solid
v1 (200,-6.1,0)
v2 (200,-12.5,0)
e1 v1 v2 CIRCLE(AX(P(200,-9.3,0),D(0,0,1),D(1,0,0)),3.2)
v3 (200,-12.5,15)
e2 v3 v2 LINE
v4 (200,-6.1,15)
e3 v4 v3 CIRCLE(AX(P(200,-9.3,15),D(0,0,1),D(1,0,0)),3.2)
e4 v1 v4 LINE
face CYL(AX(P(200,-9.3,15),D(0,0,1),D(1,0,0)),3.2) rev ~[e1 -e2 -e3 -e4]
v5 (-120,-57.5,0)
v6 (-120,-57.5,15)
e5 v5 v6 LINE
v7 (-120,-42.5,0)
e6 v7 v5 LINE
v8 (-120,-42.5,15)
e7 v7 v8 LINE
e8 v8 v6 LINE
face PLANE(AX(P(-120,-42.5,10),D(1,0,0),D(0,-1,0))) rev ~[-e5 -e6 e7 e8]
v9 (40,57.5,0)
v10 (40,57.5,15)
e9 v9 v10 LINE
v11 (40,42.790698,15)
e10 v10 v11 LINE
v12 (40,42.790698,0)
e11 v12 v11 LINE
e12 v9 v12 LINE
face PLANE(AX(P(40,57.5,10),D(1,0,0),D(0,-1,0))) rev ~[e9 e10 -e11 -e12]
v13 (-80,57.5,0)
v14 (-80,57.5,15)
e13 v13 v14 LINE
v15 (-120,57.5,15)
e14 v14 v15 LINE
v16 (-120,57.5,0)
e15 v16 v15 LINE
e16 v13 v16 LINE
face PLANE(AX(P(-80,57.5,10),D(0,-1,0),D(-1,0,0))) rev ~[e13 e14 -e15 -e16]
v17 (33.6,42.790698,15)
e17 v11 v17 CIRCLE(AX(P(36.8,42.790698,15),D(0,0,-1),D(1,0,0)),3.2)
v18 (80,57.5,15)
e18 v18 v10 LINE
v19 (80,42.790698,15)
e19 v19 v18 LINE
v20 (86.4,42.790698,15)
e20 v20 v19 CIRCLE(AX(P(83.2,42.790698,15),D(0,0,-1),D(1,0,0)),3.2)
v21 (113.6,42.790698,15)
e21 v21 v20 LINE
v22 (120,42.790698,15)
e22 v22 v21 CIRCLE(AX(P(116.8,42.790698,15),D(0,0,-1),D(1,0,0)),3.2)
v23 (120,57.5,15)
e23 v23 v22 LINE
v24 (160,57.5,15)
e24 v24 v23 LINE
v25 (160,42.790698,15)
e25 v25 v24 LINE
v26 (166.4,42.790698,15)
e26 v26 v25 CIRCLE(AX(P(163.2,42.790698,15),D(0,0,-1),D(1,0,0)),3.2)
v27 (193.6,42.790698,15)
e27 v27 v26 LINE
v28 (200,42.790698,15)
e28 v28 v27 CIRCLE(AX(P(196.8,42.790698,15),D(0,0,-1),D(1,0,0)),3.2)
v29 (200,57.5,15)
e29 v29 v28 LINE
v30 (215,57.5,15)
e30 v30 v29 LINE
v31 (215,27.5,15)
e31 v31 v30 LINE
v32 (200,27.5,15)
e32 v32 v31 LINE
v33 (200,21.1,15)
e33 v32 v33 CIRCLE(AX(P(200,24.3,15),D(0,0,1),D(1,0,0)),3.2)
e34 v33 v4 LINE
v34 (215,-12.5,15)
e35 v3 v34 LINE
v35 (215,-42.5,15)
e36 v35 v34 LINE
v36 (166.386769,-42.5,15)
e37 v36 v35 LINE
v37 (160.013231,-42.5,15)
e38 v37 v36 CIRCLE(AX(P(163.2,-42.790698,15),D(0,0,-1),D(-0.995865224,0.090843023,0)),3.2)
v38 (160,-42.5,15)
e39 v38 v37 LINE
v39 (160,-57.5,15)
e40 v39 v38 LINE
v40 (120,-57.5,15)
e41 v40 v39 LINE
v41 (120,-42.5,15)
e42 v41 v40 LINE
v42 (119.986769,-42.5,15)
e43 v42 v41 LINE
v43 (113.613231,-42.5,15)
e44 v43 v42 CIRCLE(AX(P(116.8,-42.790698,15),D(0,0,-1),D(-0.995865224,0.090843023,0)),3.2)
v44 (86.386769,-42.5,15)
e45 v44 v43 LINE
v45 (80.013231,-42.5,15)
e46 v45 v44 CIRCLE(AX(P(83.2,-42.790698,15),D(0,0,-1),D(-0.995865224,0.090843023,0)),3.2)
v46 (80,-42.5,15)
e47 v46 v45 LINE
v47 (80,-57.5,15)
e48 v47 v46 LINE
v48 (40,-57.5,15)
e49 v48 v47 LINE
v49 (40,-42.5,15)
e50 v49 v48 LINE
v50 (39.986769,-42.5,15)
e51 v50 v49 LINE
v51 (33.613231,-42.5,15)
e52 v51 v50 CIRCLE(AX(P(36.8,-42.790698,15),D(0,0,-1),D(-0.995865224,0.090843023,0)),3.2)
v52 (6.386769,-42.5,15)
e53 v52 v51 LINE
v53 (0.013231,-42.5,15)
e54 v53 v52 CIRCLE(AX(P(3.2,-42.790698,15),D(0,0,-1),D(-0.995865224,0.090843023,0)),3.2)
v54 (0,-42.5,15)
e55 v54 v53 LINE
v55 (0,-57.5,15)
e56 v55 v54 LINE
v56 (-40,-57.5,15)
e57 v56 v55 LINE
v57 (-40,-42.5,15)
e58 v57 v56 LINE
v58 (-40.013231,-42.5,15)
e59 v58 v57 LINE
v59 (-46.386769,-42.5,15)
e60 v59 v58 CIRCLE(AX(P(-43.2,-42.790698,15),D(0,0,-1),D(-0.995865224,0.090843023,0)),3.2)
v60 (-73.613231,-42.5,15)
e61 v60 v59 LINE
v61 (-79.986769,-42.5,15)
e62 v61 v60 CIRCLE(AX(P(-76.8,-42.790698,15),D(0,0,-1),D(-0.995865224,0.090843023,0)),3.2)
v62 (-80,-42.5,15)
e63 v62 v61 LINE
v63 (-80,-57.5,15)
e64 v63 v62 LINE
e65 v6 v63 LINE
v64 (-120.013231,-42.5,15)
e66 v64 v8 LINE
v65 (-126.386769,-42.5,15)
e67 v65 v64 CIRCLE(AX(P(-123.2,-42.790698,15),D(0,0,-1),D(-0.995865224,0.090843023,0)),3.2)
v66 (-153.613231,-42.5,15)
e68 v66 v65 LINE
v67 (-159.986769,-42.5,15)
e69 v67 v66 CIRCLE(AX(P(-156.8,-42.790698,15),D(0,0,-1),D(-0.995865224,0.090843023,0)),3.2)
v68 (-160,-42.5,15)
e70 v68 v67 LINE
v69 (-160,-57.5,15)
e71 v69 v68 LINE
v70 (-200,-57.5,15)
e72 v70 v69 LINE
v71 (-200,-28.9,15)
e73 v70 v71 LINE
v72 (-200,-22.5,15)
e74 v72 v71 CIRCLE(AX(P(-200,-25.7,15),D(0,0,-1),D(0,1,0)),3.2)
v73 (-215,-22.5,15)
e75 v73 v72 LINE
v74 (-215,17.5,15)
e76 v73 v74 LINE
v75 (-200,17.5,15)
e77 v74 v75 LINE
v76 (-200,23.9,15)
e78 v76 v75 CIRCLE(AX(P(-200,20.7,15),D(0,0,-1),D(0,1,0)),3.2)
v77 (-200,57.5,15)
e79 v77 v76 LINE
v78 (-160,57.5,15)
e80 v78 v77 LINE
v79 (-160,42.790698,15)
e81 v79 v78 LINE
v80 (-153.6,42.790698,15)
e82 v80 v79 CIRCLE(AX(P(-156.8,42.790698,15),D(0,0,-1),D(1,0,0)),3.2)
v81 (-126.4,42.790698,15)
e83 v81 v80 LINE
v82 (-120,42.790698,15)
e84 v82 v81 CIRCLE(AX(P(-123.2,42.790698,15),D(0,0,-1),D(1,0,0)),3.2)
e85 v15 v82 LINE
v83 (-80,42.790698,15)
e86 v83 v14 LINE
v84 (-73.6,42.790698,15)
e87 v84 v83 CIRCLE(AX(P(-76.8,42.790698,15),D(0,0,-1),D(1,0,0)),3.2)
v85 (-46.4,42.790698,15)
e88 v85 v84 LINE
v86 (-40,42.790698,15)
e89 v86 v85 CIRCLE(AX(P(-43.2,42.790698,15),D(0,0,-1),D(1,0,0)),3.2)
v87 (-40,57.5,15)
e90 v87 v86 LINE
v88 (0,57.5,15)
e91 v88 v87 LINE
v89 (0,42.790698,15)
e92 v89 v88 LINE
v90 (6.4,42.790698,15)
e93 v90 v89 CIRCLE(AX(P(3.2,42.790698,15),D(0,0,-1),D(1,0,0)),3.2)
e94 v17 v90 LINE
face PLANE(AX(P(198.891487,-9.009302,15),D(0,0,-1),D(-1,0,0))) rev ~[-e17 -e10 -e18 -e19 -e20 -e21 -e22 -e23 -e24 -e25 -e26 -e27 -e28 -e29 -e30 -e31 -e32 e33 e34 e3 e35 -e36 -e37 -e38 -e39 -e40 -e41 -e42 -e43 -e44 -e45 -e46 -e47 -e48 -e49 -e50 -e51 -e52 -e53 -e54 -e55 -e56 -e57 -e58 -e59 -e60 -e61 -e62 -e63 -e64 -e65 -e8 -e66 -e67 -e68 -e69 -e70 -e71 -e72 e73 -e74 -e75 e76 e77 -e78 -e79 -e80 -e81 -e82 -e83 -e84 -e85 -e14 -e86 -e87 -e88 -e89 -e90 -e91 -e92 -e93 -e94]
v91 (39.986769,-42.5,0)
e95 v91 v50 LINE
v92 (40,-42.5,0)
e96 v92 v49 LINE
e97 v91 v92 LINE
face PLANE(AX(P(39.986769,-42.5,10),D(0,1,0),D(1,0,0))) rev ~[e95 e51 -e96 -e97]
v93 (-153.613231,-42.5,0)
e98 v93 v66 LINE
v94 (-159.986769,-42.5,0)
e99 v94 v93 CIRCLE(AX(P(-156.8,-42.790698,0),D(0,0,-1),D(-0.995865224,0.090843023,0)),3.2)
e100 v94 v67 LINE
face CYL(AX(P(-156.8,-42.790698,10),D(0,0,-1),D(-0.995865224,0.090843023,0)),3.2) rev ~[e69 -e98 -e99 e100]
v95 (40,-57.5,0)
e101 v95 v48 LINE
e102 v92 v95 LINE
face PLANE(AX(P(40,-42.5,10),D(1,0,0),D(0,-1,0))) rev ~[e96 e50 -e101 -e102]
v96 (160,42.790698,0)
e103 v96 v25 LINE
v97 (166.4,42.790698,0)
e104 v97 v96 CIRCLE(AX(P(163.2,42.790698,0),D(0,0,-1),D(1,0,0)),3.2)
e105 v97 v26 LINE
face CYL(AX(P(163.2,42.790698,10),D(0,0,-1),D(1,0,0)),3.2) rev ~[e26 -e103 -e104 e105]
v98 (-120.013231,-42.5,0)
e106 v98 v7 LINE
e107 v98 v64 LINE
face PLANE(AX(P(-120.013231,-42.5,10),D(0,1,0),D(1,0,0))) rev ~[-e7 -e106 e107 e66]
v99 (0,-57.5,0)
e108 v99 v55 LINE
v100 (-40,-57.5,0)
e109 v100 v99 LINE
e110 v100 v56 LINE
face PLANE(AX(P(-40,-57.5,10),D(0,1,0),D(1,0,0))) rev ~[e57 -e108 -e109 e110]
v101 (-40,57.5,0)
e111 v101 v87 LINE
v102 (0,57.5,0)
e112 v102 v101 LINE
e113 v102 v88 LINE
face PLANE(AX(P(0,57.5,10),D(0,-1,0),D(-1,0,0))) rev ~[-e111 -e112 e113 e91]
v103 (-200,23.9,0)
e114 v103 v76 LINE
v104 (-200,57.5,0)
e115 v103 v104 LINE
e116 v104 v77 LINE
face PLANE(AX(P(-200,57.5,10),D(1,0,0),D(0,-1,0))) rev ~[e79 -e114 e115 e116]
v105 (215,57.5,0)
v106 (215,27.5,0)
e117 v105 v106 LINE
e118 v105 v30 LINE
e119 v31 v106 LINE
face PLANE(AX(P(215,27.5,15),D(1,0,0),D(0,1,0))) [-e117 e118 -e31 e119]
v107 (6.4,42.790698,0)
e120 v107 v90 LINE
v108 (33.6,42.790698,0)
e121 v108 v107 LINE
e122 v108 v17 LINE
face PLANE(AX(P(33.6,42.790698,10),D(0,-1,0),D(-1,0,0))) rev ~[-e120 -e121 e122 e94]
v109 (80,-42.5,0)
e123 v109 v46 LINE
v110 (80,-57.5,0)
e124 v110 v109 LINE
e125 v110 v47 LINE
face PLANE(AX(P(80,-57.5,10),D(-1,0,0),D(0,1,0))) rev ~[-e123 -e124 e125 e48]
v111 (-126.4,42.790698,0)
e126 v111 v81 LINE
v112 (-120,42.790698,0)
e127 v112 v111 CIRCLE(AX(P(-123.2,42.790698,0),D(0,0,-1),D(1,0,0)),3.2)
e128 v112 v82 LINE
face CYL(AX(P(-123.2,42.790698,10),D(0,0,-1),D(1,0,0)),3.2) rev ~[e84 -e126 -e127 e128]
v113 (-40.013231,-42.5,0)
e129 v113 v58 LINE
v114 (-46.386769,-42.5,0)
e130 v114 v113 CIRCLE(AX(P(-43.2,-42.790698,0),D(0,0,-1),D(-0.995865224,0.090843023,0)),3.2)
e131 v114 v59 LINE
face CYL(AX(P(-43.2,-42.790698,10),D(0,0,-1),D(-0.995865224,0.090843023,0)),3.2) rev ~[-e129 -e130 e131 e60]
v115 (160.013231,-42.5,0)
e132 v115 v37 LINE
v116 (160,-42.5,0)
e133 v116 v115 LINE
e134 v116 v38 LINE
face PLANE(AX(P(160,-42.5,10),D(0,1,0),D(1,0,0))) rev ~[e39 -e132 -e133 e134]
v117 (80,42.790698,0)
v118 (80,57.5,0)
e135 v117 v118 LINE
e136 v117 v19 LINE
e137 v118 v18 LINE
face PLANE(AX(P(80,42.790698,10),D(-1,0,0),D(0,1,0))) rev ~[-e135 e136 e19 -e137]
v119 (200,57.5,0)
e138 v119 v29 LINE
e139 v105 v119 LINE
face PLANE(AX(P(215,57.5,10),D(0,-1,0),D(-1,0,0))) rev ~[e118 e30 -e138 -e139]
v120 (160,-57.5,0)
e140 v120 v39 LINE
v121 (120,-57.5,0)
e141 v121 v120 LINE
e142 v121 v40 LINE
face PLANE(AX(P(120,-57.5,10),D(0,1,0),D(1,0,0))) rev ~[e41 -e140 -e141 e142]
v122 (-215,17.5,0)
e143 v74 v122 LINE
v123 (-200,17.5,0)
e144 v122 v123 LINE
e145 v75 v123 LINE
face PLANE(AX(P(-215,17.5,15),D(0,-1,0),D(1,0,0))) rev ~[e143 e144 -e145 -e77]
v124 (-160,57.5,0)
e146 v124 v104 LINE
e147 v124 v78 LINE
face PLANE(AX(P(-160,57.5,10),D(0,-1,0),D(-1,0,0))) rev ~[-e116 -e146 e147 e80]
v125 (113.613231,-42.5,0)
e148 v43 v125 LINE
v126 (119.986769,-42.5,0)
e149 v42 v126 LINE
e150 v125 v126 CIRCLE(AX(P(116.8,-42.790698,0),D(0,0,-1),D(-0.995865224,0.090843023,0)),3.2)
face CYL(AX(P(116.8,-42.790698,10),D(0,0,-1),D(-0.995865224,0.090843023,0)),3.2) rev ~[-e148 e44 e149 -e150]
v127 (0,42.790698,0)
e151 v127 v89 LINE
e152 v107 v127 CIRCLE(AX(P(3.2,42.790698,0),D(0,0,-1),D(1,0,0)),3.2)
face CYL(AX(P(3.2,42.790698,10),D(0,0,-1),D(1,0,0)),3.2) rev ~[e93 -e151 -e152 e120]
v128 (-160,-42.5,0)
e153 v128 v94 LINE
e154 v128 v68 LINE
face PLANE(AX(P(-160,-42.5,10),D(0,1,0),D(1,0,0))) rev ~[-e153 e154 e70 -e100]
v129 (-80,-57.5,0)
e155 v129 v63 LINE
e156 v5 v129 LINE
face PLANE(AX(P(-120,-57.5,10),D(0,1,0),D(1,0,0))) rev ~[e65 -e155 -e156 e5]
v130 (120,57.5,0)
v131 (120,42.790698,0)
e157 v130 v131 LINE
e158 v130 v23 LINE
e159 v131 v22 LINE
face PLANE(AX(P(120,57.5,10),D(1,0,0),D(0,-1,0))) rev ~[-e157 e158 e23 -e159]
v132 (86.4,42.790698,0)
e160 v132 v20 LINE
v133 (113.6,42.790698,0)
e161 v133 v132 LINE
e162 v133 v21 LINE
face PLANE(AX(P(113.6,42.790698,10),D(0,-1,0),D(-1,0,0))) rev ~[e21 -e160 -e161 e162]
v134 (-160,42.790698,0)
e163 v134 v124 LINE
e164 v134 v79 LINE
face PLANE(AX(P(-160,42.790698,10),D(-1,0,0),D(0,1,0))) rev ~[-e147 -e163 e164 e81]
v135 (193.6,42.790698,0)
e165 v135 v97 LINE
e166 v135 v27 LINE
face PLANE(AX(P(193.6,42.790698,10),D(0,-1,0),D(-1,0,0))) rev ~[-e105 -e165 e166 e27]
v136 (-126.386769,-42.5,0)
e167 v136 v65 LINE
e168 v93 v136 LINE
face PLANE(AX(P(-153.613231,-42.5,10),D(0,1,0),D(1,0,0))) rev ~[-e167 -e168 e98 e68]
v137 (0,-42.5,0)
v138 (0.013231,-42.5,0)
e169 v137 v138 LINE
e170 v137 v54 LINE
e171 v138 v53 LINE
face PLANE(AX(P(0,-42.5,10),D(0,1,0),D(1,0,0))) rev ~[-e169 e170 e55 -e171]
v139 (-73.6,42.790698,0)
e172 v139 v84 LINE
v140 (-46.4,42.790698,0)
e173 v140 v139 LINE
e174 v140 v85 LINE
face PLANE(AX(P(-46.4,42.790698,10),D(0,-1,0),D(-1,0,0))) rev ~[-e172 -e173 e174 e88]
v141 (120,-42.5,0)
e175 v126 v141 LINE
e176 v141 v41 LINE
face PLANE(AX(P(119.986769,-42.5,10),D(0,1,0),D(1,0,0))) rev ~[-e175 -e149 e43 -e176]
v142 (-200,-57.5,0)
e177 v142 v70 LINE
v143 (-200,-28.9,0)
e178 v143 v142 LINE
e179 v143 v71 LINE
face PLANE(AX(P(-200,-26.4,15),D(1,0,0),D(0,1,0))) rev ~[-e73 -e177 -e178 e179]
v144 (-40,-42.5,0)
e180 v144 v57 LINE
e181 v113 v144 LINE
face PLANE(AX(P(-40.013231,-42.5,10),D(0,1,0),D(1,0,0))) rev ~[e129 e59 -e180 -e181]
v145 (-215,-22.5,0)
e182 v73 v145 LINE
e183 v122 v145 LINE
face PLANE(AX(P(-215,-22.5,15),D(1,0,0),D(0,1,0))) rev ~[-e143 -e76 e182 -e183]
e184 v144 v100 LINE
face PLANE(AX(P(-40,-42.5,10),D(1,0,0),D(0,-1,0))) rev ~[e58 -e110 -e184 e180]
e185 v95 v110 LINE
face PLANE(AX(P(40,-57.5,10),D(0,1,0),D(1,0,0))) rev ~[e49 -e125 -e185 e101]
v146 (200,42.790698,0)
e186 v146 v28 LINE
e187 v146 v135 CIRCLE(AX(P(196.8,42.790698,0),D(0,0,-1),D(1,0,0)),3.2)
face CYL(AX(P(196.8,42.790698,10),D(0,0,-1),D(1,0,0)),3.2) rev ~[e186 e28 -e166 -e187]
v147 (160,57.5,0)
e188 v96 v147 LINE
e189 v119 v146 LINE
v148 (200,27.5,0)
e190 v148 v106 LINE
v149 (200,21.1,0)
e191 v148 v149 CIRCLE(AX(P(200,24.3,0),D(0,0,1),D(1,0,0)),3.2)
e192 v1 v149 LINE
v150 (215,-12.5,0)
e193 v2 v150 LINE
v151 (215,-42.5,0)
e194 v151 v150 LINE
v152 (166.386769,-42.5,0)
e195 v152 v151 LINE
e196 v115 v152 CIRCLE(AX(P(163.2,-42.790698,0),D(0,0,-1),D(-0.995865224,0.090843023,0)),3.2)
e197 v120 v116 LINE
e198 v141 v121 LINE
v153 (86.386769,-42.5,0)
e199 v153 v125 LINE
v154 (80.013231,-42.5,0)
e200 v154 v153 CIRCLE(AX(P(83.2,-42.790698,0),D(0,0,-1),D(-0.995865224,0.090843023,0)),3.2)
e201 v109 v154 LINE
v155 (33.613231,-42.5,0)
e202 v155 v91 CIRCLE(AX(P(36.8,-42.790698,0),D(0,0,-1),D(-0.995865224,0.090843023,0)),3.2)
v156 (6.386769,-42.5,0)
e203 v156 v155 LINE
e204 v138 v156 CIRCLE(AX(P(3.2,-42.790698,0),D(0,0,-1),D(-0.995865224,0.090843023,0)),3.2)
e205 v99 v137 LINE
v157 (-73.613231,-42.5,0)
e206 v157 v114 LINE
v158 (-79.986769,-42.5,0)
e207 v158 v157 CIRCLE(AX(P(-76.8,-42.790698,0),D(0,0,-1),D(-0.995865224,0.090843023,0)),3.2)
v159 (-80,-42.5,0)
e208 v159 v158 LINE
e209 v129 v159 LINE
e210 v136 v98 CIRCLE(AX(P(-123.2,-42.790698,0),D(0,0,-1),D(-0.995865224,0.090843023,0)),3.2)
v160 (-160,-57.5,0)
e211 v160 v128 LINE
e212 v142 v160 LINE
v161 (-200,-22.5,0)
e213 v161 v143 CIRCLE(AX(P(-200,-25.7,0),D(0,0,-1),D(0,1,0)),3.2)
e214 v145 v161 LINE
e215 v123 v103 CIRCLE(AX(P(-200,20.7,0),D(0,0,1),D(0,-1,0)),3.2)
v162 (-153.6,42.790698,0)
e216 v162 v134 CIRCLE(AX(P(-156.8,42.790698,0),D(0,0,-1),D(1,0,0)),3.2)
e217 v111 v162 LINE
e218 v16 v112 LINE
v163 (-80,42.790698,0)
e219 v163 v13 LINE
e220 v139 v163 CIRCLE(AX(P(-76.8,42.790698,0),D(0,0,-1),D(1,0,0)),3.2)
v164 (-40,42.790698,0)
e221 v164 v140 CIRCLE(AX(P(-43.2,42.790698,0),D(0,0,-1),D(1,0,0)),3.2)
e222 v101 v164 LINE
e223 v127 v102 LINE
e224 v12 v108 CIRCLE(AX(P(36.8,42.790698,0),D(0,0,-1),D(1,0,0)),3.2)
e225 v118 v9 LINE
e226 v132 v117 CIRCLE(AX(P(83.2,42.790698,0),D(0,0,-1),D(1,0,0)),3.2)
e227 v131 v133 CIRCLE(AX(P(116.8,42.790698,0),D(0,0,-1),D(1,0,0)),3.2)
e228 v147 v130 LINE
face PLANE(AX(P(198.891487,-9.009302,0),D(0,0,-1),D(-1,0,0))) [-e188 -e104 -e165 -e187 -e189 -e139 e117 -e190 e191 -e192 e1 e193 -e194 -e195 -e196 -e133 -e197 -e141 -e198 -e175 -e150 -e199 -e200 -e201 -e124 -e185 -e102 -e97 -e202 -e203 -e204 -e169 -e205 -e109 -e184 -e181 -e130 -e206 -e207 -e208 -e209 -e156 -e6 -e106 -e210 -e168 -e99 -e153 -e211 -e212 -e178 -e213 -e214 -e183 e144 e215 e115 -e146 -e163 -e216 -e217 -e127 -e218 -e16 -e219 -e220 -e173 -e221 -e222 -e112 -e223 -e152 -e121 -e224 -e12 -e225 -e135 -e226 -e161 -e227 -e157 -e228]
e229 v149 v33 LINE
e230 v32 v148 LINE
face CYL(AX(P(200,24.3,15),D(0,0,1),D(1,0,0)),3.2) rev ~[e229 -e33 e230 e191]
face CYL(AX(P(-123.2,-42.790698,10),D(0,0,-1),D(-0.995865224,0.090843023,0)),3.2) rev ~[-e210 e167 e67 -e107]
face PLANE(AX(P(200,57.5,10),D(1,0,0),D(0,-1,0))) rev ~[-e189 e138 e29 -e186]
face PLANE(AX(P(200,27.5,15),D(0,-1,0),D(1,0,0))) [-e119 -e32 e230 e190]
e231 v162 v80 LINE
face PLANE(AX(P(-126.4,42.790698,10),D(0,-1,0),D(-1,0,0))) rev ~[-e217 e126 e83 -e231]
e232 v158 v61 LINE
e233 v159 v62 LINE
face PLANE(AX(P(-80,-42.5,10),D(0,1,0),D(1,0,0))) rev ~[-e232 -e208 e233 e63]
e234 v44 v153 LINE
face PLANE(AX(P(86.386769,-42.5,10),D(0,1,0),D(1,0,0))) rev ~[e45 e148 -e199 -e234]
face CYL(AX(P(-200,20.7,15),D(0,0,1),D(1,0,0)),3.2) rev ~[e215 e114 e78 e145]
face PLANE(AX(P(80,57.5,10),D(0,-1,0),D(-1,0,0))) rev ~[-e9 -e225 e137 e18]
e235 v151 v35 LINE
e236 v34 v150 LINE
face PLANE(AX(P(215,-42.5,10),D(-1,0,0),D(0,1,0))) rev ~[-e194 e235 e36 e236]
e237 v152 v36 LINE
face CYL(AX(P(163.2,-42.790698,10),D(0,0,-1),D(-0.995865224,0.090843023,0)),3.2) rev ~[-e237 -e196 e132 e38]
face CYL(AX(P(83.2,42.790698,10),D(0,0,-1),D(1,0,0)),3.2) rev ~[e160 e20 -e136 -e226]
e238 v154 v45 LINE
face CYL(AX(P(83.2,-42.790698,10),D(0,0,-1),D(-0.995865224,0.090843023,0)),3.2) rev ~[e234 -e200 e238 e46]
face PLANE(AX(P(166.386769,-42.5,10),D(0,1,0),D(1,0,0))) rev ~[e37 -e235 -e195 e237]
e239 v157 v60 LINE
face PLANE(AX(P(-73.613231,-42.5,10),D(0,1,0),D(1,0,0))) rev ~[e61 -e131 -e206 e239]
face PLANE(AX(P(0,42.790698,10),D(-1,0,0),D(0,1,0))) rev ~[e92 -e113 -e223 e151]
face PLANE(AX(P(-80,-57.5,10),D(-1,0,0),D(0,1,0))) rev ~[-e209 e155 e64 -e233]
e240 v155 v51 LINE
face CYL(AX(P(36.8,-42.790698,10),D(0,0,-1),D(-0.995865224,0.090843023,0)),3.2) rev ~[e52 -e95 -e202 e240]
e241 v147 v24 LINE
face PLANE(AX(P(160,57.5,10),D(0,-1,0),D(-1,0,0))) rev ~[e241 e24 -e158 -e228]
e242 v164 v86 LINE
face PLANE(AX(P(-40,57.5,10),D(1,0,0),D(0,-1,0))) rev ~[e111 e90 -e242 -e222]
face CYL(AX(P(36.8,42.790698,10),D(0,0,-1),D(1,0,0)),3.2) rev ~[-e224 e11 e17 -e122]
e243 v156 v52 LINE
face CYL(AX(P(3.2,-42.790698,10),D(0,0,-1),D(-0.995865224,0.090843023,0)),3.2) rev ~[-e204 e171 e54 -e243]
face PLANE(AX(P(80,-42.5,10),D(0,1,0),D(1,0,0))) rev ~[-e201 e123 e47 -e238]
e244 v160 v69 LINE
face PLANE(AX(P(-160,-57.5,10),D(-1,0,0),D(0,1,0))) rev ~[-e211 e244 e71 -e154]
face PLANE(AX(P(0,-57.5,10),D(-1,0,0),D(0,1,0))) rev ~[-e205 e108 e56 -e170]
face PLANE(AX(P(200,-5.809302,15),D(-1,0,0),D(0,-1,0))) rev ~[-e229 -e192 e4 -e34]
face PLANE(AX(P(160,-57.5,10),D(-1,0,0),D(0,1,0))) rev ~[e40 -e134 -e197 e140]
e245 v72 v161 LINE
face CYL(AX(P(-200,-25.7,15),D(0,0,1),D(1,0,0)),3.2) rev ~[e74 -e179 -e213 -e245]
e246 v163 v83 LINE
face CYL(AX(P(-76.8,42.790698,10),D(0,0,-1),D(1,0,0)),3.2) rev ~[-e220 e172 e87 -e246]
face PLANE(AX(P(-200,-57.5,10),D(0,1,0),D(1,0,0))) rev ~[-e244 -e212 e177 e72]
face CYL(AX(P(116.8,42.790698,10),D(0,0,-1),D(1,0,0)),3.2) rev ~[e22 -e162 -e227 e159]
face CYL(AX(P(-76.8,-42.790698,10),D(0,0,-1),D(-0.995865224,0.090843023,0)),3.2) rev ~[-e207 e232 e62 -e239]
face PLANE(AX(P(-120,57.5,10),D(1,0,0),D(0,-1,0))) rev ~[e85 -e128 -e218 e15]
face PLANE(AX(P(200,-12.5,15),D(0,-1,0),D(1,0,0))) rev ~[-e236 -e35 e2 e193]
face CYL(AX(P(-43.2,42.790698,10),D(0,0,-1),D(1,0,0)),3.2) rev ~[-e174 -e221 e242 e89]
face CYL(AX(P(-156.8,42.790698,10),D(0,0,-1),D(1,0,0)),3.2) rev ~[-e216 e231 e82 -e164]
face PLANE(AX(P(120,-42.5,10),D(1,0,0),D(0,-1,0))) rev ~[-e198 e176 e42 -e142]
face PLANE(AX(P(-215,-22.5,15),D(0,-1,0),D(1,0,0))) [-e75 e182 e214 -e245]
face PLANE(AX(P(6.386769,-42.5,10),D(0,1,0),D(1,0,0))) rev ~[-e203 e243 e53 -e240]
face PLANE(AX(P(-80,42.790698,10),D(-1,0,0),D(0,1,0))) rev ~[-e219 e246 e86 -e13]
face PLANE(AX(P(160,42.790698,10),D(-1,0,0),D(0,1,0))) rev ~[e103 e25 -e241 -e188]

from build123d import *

# Parameters (mm, degrees)
SALIENTE_EXTRUIR2_DEPTH = 10
SALIENTE_EXTRUIR3_DEPTH = 5
CROQUIS4_W              = 15
CROQUIS4_H              = 40
CORTAR_EXTRUIR1_DEPTH   = 15
CROQUIS5_W              = 15
CROQUIS5_H              = 40
SALIENTE_EXTRUIR4_DEPTH = 15
SALIENTE_EXTRUIR5_DEPTH = 15
CROQUIS7_R              = 3.2
CORTAR_EXTRUIR2_DEPTH   = 15
CROQUIS8_W              = 15
CROQUIS8_H              = 30
SALIENTE_EXTRUIR6_DEPTH = 15
CROQUIS9_W              = 15
CROQUIS9_H              = 40
CORTAR_EXTRUIR3_DEPTH   = 15
SALIENTE_EXTRUIR8_DEPTH = 15
CROQUIS12_R             = 3.2
CORTAR_EXTRUIR4_DEPTH   = 15


with BuildPart() as part:
    # Croquis1 → Saliente-Extruir2 (new body)
    with BuildSketch(Plane.XY):
        with BuildLine():
            Line((-200, -42.5), (-200, -57.5))
            Line((-200, -57.5), (-160, -57.5))
            Line((-160, -57.5), (-160, -49.312229152))
            Line((-160, -49.312229152), (-160, -42.790697674))
            Line((-160, -42.790697674), (-160, -42.5))
            Line((-160, -42.5), (-159.986768718, -42.5))
            ThreePointArc((-159.986768718, -42.5), (-156.8, -39.590697674), (-153.613231282, -42.5))
            Line((-153.613231282, -42.5), (-126.386768718, -42.5))
            ThreePointArc((-126.386768718, -42.5), (-123.2, -39.590697674), (-120.013231282, -42.5))
            Line((-120.013231282, -42.5), (-120, -42.5))
            Line((-120, -42.5), (-120, -42.790697674))
            Line((-120, -42.790697674), (-120, -57.5))
            Line((-120, -57.5), (-80, -57.5))
            Line((-80, -57.5), (-80, -42.790697674))
            Line((-80, -42.790697674), (-80, -42.5))
            Line((-80, -42.5), (-79.986768718, -42.5))
            ThreePointArc((-79.986768718, -42.5), (-76.8, -39.590697674), (-73.613231282, -42.5))
            Line((-73.613231282, -42.5), (-46.386768718, -42.5))
            ThreePointArc((-46.386768718, -42.5), (-43.2, -39.590697674), (-40.013231282, -42.5))
            Line((-40.013231282, -42.5), (-40, -42.5))
            Line((-40, -42.5), (-40, -42.790697674))
            Line((-40, -42.790697674), (-40, -57.5))
            Line((-40, -57.5), (0, -57.5))
            Line((0, -57.5), (0, -42.790697674))
            Line((0, -42.790697674), (0, -42.5))
            Line((0, -42.5), (0.013231282, -42.5))
            ThreePointArc((0.013231282, -42.5), (3.2, -39.590697674), (6.386768718, -42.5))
            Line((6.386768718, -42.5), (33.613231282, -42.5))
            ThreePointArc((33.613231282, -42.5), (36.8, -39.590697674), (39.986768718, -42.5))
            Line((39.986768718, -42.5), (40, -42.5))
            Line((40, -42.5), (40, -42.790697674))
            Line((40, -42.790697674), (40, -57.5))
            Line((40, -57.5), (80, -57.5))
            Line((80, -57.5), (80, -42.790697674))
            Line((80, -42.790697674), (80, -42.5))
            Line((80, -42.5), (80.013231282, -42.5))
            ThreePointArc((80.013231282, -42.5), (83.2, -39.590697674), (86.386768718, -42.5))
            Line((86.386768718, -42.5), (113.613231282, -42.5))
            ThreePointArc((113.613231282, -42.5), (116.8, -39.590697674), (119.986768718, -42.5))
            Line((119.986768718, -42.5), (120, -42.5))
            Line((120, -42.5), (120, -42.790697674))
            Line((120, -42.790697674), (120, -57.5))
            Line((120, -57.5), (160, -57.5))
            Line((160, -57.5), (160, -42.790697674))
            Line((160, -42.790697674), (160, -42.5))
            Line((160, -42.5), (160.013231282, -42.5))
            ThreePointArc((160.013231282, -42.5), (163.2, -39.590697674), (166.386768718, -42.5))
            Line((166.386768718, -42.5), (200, -42.5))
            Line((200, -42.5), (215, -42.5))
            Line((215, -42.5), (215, -12.209302326))
            Line((215, -12.209302326), (200, -12.209302326))
            ThreePointArc((200, -12.209302326), (196.8, -9.009302326), (200, -5.809302326))
            Line((200, -5.809302326), (200, 7.790697674))
            Line((200, 7.790697674), (200, 21.390697674))
            ThreePointArc((200, 21.390697674), (196.8, 24.590697674), (200, 27.790697674))
            Line((200, 27.790697674), (215, 27.790697674))
            Line((215, 27.790697674), (215, 57.5))
            Line((215, 57.5), (200, 57.5))
            Line((200, 57.5), (200, 42.790697674))
            ThreePointArc((200, 42.790697674), (196.8, 39.590697674), (193.6, 42.790697674))
            Line((193.6, 42.790697674), (166.4, 42.790697674))
            ThreePointArc((166.4, 42.790697674), (163.2, 39.590697674), (160, 42.790697674))
            Line((160, 42.790697674), (160, 57.5))
            Line((160, 57.5), (140, 57.5))
            Line((140, 57.5), (120, 57.5))
            Line((120, 57.5), (120, 42.790697674))
            ThreePointArc((120, 42.790697674), (116.8, 39.590697674), (113.6, 42.790697674))
            Line((113.6, 42.790697674), (86.4, 42.790697674))
            ThreePointArc((86.4, 42.790697674), (83.2, 39.590697674), (80, 42.790697674))
            Line((80, 42.790697674), (80, 57.5))
            Line((80, 57.5), (40, 57.5))
            Line((40, 57.5), (40, 42.790697674))
            ThreePointArc((40, 42.790697674), (36.8, 39.590697674), (33.6, 42.790697674))
            Line((33.6, 42.790697674), (6.4, 42.790697674))
            ThreePointArc((6.4, 42.790697674), (3.2, 39.590697674), (0, 42.790697674))
            Line((0, 42.790697674), (0, 57.5))
            Line((0, 57.5), (-20, 57.5))
            Line((-20, 57.5), (-40, 57.5))
            Line((-40, 57.5), (-40, 42.790697674))
            ThreePointArc((-40, 42.790697674), (-43.2, 39.590697674), (-46.4, 42.790697674))
            Line((-46.4, 42.790697674), (-73.6, 42.790697674))
            ThreePointArc((-73.6, 42.790697674), (-76.8, 39.590697674), (-80, 42.790697674))
            Line((-80, 42.790697674), (-80, 57.5))
            Line((-80, 57.5), (-100, 57.5))
            Line((-100, 57.5), (-120, 57.5))
            Line((-120, 57.5), (-120, 42.790697674))
            ThreePointArc((-120, 42.790697674), (-123.2, 39.590697674), (-126.4, 42.790697674))
            Line((-126.4, 42.790697674), (-140, 42.790697674))
            Line((-140, 42.790697674), (-153.6, 42.790697674))
            ThreePointArc((-153.6, 42.790697674), (-156.8, 39.590697674), (-160, 42.790697674))
            Line((-160, 42.790697674), (-160, 57.5))
            Line((-160, 57.5), (-200, 57.5))
            Line((-200, 57.5), (-200, 42.790697674))
            Line((-200, 42.790697674), (-200, 26.4))
            ThreePointArc((-200, 26.4), (-196.8, 23.2), (-200, 20))
            Line((-200, 20), (-215, 20))
            Line((-215, 20), (-215, 0))
            Line((-215, 0), (-215, -20))
            Line((-215, -20), (-200, -20))
            ThreePointArc((-200, -20), (-196.8, -23.2), (-200, -26.4))
            Line((-200, -26.4), (-200, -42.5))
        make_face()
    extrude(amount=SALIENTE_EXTRUIR2_DEPTH)

    # Croquis3 → Saliente-Extruir3 (add)
    with BuildSketch(Plane.XY.offset(10)):
        with BuildLine():
            Line((119.986768718, -42.5), (120, -42.5))
            Line((120, -42.5), (120, -57.5))
            Line((120, -57.5), (160, -57.5))
            Line((160, -57.5), (160, -42.5))
            Line((160, -42.5), (160.013231282, -42.5))
            ThreePointArc((160.013231282, -42.5), (163.2, -39.590697674), (166.386768718, -42.5))
            Line((166.386768718, -42.5), (215, -42.5))
            Line((215, -42.5), (215, -12.209302326))
            Line((215, -12.209302326), (200, -12.209302326))
            ThreePointArc((200, -12.209302326), (196.8, -9.009302326), (200, -5.809302326))
            Line((200, -5.809302326), (200, 21.390697674))
            ThreePointArc((200, 21.390697674), (196.8, 24.590697674), (200, 27.790697674))
            Line((200, 27.790697674), (215, 27.790697674))
            Line((215, 27.790697674), (215, 57.5))
            Line((215, 57.5), (200, 57.5))
            Line((200, 57.5), (200, 42.790697674))
            ThreePointArc((200, 42.790697674), (196.8, 39.590697674), (193.6, 42.790697674))
            Line((193.6, 42.790697674), (166.4, 42.790697674))
            ThreePointArc((166.4, 42.790697674), (163.2, 39.590697674), (160, 42.790697674))
            Line((160, 42.790697674), (160, 57.5))
            Line((160, 57.5), (120, 57.5))
            Line((120, 57.5), (120, 42.790697674))
            ThreePointArc((120, 42.790697674), (116.8, 39.590697674), (113.6, 42.790697674))
            Line((113.6, 42.790697674), (86.4, 42.790697674))
            ThreePointArc((86.4, 42.790697674), (83.2, 39.590697674), (80, 42.790697674))
            Line((80, 42.790697674), (80, 57.5))
            Line((80, 57.5), (40, 57.5))
            Line((40, 57.5), (40, 42.790697674))
            ThreePointArc((40, 42.790697674), (36.8, 39.590697674), (33.6, 42.790697674))
            Line((33.6, 42.790697674), (6.4, 42.790697674))
            ThreePointArc((6.4, 42.790697674), (3.2, 39.590697674), (0, 42.790697674))
            Line((0, 42.790697674), (0, 57.5))
            Line((0, 57.5), (-40, 57.5))
            Line((-40, 57.5), (-40, 42.790697674))
            ThreePointArc((-40, 42.790697674), (-43.2, 39.590697674), (-46.4, 42.790697674))
            Line((-46.4, 42.790697674), (-73.6, 42.790697674))
            ThreePointArc((-73.6, 42.790697674), (-76.8, 39.590697674), (-80, 42.790697674))
            Line((-80, 42.790697674), (-80, 57.5))
            Line((-80, 57.5), (-120, 57.5))
            Line((-120, 57.5), (-120, 42.790697674))
            ThreePointArc((-120, 42.790697674), (-123.2, 39.590697674), (-126.4, 42.790697674))
            Line((-126.4, 42.790697674), (-153.6, 42.790697674))
            ThreePointArc((-153.6, 42.790697674), (-156.8, 39.590697674), (-160, 42.790697674))
            Line((-160, 42.790697674), (-160, 57.5))
            Line((-160, 57.5), (-200, 57.5))
            Line((-200, 57.5), (-200, 26.4))
            ThreePointArc((-200, 26.4), (-196.8, 23.2), (-200, 20))
            Line((-200, 20), (-215, 20))
            Line((-215, 20), (-215, -20))
            Line((-215, -20), (-200, -20))
            ThreePointArc((-200, -20), (-196.8, -23.2), (-200, -26.4))
            Line((-200, -26.4), (-200, -57.5))
            Line((-200, -57.5), (-160, -57.5))
            Line((-160, -57.5), (-160, -42.5))
            Line((-160, -42.5), (-159.986768718, -42.5))
            ThreePointArc((-159.986768718, -42.5), (-156.8, -39.590697674), (-153.613231282, -42.5))
            Line((-153.613231282, -42.5), (-126.386768718, -42.5))
            ThreePointArc((-126.386768718, -42.5), (-123.2, -39.590697674), (-120.013231282, -42.5))
            Line((-120.013231282, -42.5), (-120, -42.5))
            Line((-120, -42.5), (-120, -57.5))
            Line((-120, -57.5), (-80, -57.5))
            Line((-80, -57.5), (-80, -42.5))
            Line((-80, -42.5), (-79.986768718, -42.5))
            ThreePointArc((-79.986768718, -42.5), (-76.8, -39.590697674), (-73.613231282, -42.5))
            Line((-73.613231282, -42.5), (-46.386768718, -42.5))
            ThreePointArc((-46.386768718, -42.5), (-43.2, -39.590697674), (-40.013231282, -42.5))
            Line((-40.013231282, -42.5), (-40, -42.5))
            Line((-40, -42.5), (-40, -57.5))
            Line((-40, -57.5), (0, -57.5))
            Line((0, -57.5), (0, -42.5))
            Line((0, -42.5), (0.013231282, -42.5))
            ThreePointArc((0.013231282, -42.5), (3.2, -39.590697674), (6.386768718, -42.5))
            Line((6.386768718, -42.5), (33.613231282, -42.5))
            ThreePointArc((33.613231282, -42.5), (36.8, -39.590697674), (39.986768718, -42.5))
            Line((39.986768718, -42.5), (40, -42.5))
            Line((40, -42.5), (40, -57.5))
            Line((40, -57.5), (80, -57.5))
            Line((80, -57.5), (80, -42.5))
            Line((80, -42.5), (80.013231282, -42.5))
            ThreePointArc((80.013231282, -42.5), (83.2, -39.590697674), (86.386768718, -42.5))
            Line((86.386768718, -42.5), (113.613231282, -42.5))
            ThreePointArc((113.613231282, -42.5), (116.8, -39.590697674), (119.986768718, -42.5))
        make_face()
    extrude(amount=SALIENTE_EXTRUIR3_DEPTH)

    # Croquis4 → Cortar-Extruir1 (cut)
    with BuildSketch(Plane.XY.offset(15)):
        with Locations((-207.5, 37.5)):
            Rectangle(CROQUIS4_W, CROQUIS4_H)
    extrude(amount=-CORTAR_EXTRUIR1_DEPTH, mode=Mode.SUBTRACT)

    # Croquis5 → Saliente-Extruir4 (add)
    with BuildSketch(Plane.XY.offset(15)):
        with Locations((-207.5, -2.5)):
            Rectangle(CROQUIS5_W, CROQUIS5_H)
    extrude(amount=-SALIENTE_EXTRUIR4_DEPTH)

    # Croquis6 → Saliente-Extruir5 (add)
    with BuildSketch(Plane.XY.offset(15)):
        with BuildLine():
            Line((-200, -22.5), (-200, -20))
            ThreePointArc((-200, -20), (-196.8, -23.2), (-200, -26.4))
            Line((-200, -26.4), (-200, -22.5))
        make_face()
        with BuildLine():
            Line((-200, 20), (-200, 26.4))
            ThreePointArc((-200, 26.4), (-196.8, 23.2), (-200, 20))
        make_face()
    extrude(amount=-SALIENTE_EXTRUIR5_DEPTH)

    # Croquis7 → Cortar-Extruir2 (cut)
    with BuildSketch(Plane.XY.offset(15)):
        with Locations((-200, 20.7)):
            Circle(CROQUIS7_R)
        with Locations((-200, -25.7)):
            Circle(CROQUIS7_R)
    extrude(amount=-CORTAR_EXTRUIR2_DEPTH, mode=Mode.SUBTRACT)

    # Croquis8 → Saliente-Extruir6 (add)
    with BuildSketch(Plane.XY.offset(15)):
        with Locations((207.5, 42.5)):
            Rectangle(CROQUIS8_W, CROQUIS8_H)
    extrude(amount=-SALIENTE_EXTRUIR6_DEPTH)

    # Croquis9 → Cortar-Extruir3 (cut)
    with BuildSketch(Plane.XY.offset(15)):
        with Locations((207.5, 7.5)):
            Rectangle(CROQUIS9_W, CROQUIS9_H)
    extrude(amount=-CORTAR_EXTRUIR3_DEPTH, mode=Mode.SUBTRACT)

    # Croquis10 → Saliente-Extruir8 (add)
    with BuildSketch(Plane.XY.offset(15)):
        with BuildLine():
            Line((200, -5.809302326), (200, -12.209302326))
            ThreePointArc((200, -12.209302326), (196.8, -9.009302326), (200, -5.809302326))
        make_face()
        with BuildLine():
            Line((200, 27.5), (200, 21.390697674))
            ThreePointArc((200, 21.390697674), (196.8, 24.590697674), (200, 27.790697674))
            Line((200, 27.790697674), (200, 27.5))
        make_face()
    extrude(amount=-SALIENTE_EXTRUIR8_DEPTH)

    # Croquis12 → Cortar-Extruir4 (cut)
    with BuildSketch(Plane.XY.offset(15)):
        with Locations((200, 24.3)):
            Circle(CROQUIS12_R)
        with Locations((200, -9.3)):
            Circle(CROQUIS12_R)
    extrude(amount=-CORTAR_EXTRUIR4_DEPTH, mode=Mode.SUBTRACT)


solid = part.part
